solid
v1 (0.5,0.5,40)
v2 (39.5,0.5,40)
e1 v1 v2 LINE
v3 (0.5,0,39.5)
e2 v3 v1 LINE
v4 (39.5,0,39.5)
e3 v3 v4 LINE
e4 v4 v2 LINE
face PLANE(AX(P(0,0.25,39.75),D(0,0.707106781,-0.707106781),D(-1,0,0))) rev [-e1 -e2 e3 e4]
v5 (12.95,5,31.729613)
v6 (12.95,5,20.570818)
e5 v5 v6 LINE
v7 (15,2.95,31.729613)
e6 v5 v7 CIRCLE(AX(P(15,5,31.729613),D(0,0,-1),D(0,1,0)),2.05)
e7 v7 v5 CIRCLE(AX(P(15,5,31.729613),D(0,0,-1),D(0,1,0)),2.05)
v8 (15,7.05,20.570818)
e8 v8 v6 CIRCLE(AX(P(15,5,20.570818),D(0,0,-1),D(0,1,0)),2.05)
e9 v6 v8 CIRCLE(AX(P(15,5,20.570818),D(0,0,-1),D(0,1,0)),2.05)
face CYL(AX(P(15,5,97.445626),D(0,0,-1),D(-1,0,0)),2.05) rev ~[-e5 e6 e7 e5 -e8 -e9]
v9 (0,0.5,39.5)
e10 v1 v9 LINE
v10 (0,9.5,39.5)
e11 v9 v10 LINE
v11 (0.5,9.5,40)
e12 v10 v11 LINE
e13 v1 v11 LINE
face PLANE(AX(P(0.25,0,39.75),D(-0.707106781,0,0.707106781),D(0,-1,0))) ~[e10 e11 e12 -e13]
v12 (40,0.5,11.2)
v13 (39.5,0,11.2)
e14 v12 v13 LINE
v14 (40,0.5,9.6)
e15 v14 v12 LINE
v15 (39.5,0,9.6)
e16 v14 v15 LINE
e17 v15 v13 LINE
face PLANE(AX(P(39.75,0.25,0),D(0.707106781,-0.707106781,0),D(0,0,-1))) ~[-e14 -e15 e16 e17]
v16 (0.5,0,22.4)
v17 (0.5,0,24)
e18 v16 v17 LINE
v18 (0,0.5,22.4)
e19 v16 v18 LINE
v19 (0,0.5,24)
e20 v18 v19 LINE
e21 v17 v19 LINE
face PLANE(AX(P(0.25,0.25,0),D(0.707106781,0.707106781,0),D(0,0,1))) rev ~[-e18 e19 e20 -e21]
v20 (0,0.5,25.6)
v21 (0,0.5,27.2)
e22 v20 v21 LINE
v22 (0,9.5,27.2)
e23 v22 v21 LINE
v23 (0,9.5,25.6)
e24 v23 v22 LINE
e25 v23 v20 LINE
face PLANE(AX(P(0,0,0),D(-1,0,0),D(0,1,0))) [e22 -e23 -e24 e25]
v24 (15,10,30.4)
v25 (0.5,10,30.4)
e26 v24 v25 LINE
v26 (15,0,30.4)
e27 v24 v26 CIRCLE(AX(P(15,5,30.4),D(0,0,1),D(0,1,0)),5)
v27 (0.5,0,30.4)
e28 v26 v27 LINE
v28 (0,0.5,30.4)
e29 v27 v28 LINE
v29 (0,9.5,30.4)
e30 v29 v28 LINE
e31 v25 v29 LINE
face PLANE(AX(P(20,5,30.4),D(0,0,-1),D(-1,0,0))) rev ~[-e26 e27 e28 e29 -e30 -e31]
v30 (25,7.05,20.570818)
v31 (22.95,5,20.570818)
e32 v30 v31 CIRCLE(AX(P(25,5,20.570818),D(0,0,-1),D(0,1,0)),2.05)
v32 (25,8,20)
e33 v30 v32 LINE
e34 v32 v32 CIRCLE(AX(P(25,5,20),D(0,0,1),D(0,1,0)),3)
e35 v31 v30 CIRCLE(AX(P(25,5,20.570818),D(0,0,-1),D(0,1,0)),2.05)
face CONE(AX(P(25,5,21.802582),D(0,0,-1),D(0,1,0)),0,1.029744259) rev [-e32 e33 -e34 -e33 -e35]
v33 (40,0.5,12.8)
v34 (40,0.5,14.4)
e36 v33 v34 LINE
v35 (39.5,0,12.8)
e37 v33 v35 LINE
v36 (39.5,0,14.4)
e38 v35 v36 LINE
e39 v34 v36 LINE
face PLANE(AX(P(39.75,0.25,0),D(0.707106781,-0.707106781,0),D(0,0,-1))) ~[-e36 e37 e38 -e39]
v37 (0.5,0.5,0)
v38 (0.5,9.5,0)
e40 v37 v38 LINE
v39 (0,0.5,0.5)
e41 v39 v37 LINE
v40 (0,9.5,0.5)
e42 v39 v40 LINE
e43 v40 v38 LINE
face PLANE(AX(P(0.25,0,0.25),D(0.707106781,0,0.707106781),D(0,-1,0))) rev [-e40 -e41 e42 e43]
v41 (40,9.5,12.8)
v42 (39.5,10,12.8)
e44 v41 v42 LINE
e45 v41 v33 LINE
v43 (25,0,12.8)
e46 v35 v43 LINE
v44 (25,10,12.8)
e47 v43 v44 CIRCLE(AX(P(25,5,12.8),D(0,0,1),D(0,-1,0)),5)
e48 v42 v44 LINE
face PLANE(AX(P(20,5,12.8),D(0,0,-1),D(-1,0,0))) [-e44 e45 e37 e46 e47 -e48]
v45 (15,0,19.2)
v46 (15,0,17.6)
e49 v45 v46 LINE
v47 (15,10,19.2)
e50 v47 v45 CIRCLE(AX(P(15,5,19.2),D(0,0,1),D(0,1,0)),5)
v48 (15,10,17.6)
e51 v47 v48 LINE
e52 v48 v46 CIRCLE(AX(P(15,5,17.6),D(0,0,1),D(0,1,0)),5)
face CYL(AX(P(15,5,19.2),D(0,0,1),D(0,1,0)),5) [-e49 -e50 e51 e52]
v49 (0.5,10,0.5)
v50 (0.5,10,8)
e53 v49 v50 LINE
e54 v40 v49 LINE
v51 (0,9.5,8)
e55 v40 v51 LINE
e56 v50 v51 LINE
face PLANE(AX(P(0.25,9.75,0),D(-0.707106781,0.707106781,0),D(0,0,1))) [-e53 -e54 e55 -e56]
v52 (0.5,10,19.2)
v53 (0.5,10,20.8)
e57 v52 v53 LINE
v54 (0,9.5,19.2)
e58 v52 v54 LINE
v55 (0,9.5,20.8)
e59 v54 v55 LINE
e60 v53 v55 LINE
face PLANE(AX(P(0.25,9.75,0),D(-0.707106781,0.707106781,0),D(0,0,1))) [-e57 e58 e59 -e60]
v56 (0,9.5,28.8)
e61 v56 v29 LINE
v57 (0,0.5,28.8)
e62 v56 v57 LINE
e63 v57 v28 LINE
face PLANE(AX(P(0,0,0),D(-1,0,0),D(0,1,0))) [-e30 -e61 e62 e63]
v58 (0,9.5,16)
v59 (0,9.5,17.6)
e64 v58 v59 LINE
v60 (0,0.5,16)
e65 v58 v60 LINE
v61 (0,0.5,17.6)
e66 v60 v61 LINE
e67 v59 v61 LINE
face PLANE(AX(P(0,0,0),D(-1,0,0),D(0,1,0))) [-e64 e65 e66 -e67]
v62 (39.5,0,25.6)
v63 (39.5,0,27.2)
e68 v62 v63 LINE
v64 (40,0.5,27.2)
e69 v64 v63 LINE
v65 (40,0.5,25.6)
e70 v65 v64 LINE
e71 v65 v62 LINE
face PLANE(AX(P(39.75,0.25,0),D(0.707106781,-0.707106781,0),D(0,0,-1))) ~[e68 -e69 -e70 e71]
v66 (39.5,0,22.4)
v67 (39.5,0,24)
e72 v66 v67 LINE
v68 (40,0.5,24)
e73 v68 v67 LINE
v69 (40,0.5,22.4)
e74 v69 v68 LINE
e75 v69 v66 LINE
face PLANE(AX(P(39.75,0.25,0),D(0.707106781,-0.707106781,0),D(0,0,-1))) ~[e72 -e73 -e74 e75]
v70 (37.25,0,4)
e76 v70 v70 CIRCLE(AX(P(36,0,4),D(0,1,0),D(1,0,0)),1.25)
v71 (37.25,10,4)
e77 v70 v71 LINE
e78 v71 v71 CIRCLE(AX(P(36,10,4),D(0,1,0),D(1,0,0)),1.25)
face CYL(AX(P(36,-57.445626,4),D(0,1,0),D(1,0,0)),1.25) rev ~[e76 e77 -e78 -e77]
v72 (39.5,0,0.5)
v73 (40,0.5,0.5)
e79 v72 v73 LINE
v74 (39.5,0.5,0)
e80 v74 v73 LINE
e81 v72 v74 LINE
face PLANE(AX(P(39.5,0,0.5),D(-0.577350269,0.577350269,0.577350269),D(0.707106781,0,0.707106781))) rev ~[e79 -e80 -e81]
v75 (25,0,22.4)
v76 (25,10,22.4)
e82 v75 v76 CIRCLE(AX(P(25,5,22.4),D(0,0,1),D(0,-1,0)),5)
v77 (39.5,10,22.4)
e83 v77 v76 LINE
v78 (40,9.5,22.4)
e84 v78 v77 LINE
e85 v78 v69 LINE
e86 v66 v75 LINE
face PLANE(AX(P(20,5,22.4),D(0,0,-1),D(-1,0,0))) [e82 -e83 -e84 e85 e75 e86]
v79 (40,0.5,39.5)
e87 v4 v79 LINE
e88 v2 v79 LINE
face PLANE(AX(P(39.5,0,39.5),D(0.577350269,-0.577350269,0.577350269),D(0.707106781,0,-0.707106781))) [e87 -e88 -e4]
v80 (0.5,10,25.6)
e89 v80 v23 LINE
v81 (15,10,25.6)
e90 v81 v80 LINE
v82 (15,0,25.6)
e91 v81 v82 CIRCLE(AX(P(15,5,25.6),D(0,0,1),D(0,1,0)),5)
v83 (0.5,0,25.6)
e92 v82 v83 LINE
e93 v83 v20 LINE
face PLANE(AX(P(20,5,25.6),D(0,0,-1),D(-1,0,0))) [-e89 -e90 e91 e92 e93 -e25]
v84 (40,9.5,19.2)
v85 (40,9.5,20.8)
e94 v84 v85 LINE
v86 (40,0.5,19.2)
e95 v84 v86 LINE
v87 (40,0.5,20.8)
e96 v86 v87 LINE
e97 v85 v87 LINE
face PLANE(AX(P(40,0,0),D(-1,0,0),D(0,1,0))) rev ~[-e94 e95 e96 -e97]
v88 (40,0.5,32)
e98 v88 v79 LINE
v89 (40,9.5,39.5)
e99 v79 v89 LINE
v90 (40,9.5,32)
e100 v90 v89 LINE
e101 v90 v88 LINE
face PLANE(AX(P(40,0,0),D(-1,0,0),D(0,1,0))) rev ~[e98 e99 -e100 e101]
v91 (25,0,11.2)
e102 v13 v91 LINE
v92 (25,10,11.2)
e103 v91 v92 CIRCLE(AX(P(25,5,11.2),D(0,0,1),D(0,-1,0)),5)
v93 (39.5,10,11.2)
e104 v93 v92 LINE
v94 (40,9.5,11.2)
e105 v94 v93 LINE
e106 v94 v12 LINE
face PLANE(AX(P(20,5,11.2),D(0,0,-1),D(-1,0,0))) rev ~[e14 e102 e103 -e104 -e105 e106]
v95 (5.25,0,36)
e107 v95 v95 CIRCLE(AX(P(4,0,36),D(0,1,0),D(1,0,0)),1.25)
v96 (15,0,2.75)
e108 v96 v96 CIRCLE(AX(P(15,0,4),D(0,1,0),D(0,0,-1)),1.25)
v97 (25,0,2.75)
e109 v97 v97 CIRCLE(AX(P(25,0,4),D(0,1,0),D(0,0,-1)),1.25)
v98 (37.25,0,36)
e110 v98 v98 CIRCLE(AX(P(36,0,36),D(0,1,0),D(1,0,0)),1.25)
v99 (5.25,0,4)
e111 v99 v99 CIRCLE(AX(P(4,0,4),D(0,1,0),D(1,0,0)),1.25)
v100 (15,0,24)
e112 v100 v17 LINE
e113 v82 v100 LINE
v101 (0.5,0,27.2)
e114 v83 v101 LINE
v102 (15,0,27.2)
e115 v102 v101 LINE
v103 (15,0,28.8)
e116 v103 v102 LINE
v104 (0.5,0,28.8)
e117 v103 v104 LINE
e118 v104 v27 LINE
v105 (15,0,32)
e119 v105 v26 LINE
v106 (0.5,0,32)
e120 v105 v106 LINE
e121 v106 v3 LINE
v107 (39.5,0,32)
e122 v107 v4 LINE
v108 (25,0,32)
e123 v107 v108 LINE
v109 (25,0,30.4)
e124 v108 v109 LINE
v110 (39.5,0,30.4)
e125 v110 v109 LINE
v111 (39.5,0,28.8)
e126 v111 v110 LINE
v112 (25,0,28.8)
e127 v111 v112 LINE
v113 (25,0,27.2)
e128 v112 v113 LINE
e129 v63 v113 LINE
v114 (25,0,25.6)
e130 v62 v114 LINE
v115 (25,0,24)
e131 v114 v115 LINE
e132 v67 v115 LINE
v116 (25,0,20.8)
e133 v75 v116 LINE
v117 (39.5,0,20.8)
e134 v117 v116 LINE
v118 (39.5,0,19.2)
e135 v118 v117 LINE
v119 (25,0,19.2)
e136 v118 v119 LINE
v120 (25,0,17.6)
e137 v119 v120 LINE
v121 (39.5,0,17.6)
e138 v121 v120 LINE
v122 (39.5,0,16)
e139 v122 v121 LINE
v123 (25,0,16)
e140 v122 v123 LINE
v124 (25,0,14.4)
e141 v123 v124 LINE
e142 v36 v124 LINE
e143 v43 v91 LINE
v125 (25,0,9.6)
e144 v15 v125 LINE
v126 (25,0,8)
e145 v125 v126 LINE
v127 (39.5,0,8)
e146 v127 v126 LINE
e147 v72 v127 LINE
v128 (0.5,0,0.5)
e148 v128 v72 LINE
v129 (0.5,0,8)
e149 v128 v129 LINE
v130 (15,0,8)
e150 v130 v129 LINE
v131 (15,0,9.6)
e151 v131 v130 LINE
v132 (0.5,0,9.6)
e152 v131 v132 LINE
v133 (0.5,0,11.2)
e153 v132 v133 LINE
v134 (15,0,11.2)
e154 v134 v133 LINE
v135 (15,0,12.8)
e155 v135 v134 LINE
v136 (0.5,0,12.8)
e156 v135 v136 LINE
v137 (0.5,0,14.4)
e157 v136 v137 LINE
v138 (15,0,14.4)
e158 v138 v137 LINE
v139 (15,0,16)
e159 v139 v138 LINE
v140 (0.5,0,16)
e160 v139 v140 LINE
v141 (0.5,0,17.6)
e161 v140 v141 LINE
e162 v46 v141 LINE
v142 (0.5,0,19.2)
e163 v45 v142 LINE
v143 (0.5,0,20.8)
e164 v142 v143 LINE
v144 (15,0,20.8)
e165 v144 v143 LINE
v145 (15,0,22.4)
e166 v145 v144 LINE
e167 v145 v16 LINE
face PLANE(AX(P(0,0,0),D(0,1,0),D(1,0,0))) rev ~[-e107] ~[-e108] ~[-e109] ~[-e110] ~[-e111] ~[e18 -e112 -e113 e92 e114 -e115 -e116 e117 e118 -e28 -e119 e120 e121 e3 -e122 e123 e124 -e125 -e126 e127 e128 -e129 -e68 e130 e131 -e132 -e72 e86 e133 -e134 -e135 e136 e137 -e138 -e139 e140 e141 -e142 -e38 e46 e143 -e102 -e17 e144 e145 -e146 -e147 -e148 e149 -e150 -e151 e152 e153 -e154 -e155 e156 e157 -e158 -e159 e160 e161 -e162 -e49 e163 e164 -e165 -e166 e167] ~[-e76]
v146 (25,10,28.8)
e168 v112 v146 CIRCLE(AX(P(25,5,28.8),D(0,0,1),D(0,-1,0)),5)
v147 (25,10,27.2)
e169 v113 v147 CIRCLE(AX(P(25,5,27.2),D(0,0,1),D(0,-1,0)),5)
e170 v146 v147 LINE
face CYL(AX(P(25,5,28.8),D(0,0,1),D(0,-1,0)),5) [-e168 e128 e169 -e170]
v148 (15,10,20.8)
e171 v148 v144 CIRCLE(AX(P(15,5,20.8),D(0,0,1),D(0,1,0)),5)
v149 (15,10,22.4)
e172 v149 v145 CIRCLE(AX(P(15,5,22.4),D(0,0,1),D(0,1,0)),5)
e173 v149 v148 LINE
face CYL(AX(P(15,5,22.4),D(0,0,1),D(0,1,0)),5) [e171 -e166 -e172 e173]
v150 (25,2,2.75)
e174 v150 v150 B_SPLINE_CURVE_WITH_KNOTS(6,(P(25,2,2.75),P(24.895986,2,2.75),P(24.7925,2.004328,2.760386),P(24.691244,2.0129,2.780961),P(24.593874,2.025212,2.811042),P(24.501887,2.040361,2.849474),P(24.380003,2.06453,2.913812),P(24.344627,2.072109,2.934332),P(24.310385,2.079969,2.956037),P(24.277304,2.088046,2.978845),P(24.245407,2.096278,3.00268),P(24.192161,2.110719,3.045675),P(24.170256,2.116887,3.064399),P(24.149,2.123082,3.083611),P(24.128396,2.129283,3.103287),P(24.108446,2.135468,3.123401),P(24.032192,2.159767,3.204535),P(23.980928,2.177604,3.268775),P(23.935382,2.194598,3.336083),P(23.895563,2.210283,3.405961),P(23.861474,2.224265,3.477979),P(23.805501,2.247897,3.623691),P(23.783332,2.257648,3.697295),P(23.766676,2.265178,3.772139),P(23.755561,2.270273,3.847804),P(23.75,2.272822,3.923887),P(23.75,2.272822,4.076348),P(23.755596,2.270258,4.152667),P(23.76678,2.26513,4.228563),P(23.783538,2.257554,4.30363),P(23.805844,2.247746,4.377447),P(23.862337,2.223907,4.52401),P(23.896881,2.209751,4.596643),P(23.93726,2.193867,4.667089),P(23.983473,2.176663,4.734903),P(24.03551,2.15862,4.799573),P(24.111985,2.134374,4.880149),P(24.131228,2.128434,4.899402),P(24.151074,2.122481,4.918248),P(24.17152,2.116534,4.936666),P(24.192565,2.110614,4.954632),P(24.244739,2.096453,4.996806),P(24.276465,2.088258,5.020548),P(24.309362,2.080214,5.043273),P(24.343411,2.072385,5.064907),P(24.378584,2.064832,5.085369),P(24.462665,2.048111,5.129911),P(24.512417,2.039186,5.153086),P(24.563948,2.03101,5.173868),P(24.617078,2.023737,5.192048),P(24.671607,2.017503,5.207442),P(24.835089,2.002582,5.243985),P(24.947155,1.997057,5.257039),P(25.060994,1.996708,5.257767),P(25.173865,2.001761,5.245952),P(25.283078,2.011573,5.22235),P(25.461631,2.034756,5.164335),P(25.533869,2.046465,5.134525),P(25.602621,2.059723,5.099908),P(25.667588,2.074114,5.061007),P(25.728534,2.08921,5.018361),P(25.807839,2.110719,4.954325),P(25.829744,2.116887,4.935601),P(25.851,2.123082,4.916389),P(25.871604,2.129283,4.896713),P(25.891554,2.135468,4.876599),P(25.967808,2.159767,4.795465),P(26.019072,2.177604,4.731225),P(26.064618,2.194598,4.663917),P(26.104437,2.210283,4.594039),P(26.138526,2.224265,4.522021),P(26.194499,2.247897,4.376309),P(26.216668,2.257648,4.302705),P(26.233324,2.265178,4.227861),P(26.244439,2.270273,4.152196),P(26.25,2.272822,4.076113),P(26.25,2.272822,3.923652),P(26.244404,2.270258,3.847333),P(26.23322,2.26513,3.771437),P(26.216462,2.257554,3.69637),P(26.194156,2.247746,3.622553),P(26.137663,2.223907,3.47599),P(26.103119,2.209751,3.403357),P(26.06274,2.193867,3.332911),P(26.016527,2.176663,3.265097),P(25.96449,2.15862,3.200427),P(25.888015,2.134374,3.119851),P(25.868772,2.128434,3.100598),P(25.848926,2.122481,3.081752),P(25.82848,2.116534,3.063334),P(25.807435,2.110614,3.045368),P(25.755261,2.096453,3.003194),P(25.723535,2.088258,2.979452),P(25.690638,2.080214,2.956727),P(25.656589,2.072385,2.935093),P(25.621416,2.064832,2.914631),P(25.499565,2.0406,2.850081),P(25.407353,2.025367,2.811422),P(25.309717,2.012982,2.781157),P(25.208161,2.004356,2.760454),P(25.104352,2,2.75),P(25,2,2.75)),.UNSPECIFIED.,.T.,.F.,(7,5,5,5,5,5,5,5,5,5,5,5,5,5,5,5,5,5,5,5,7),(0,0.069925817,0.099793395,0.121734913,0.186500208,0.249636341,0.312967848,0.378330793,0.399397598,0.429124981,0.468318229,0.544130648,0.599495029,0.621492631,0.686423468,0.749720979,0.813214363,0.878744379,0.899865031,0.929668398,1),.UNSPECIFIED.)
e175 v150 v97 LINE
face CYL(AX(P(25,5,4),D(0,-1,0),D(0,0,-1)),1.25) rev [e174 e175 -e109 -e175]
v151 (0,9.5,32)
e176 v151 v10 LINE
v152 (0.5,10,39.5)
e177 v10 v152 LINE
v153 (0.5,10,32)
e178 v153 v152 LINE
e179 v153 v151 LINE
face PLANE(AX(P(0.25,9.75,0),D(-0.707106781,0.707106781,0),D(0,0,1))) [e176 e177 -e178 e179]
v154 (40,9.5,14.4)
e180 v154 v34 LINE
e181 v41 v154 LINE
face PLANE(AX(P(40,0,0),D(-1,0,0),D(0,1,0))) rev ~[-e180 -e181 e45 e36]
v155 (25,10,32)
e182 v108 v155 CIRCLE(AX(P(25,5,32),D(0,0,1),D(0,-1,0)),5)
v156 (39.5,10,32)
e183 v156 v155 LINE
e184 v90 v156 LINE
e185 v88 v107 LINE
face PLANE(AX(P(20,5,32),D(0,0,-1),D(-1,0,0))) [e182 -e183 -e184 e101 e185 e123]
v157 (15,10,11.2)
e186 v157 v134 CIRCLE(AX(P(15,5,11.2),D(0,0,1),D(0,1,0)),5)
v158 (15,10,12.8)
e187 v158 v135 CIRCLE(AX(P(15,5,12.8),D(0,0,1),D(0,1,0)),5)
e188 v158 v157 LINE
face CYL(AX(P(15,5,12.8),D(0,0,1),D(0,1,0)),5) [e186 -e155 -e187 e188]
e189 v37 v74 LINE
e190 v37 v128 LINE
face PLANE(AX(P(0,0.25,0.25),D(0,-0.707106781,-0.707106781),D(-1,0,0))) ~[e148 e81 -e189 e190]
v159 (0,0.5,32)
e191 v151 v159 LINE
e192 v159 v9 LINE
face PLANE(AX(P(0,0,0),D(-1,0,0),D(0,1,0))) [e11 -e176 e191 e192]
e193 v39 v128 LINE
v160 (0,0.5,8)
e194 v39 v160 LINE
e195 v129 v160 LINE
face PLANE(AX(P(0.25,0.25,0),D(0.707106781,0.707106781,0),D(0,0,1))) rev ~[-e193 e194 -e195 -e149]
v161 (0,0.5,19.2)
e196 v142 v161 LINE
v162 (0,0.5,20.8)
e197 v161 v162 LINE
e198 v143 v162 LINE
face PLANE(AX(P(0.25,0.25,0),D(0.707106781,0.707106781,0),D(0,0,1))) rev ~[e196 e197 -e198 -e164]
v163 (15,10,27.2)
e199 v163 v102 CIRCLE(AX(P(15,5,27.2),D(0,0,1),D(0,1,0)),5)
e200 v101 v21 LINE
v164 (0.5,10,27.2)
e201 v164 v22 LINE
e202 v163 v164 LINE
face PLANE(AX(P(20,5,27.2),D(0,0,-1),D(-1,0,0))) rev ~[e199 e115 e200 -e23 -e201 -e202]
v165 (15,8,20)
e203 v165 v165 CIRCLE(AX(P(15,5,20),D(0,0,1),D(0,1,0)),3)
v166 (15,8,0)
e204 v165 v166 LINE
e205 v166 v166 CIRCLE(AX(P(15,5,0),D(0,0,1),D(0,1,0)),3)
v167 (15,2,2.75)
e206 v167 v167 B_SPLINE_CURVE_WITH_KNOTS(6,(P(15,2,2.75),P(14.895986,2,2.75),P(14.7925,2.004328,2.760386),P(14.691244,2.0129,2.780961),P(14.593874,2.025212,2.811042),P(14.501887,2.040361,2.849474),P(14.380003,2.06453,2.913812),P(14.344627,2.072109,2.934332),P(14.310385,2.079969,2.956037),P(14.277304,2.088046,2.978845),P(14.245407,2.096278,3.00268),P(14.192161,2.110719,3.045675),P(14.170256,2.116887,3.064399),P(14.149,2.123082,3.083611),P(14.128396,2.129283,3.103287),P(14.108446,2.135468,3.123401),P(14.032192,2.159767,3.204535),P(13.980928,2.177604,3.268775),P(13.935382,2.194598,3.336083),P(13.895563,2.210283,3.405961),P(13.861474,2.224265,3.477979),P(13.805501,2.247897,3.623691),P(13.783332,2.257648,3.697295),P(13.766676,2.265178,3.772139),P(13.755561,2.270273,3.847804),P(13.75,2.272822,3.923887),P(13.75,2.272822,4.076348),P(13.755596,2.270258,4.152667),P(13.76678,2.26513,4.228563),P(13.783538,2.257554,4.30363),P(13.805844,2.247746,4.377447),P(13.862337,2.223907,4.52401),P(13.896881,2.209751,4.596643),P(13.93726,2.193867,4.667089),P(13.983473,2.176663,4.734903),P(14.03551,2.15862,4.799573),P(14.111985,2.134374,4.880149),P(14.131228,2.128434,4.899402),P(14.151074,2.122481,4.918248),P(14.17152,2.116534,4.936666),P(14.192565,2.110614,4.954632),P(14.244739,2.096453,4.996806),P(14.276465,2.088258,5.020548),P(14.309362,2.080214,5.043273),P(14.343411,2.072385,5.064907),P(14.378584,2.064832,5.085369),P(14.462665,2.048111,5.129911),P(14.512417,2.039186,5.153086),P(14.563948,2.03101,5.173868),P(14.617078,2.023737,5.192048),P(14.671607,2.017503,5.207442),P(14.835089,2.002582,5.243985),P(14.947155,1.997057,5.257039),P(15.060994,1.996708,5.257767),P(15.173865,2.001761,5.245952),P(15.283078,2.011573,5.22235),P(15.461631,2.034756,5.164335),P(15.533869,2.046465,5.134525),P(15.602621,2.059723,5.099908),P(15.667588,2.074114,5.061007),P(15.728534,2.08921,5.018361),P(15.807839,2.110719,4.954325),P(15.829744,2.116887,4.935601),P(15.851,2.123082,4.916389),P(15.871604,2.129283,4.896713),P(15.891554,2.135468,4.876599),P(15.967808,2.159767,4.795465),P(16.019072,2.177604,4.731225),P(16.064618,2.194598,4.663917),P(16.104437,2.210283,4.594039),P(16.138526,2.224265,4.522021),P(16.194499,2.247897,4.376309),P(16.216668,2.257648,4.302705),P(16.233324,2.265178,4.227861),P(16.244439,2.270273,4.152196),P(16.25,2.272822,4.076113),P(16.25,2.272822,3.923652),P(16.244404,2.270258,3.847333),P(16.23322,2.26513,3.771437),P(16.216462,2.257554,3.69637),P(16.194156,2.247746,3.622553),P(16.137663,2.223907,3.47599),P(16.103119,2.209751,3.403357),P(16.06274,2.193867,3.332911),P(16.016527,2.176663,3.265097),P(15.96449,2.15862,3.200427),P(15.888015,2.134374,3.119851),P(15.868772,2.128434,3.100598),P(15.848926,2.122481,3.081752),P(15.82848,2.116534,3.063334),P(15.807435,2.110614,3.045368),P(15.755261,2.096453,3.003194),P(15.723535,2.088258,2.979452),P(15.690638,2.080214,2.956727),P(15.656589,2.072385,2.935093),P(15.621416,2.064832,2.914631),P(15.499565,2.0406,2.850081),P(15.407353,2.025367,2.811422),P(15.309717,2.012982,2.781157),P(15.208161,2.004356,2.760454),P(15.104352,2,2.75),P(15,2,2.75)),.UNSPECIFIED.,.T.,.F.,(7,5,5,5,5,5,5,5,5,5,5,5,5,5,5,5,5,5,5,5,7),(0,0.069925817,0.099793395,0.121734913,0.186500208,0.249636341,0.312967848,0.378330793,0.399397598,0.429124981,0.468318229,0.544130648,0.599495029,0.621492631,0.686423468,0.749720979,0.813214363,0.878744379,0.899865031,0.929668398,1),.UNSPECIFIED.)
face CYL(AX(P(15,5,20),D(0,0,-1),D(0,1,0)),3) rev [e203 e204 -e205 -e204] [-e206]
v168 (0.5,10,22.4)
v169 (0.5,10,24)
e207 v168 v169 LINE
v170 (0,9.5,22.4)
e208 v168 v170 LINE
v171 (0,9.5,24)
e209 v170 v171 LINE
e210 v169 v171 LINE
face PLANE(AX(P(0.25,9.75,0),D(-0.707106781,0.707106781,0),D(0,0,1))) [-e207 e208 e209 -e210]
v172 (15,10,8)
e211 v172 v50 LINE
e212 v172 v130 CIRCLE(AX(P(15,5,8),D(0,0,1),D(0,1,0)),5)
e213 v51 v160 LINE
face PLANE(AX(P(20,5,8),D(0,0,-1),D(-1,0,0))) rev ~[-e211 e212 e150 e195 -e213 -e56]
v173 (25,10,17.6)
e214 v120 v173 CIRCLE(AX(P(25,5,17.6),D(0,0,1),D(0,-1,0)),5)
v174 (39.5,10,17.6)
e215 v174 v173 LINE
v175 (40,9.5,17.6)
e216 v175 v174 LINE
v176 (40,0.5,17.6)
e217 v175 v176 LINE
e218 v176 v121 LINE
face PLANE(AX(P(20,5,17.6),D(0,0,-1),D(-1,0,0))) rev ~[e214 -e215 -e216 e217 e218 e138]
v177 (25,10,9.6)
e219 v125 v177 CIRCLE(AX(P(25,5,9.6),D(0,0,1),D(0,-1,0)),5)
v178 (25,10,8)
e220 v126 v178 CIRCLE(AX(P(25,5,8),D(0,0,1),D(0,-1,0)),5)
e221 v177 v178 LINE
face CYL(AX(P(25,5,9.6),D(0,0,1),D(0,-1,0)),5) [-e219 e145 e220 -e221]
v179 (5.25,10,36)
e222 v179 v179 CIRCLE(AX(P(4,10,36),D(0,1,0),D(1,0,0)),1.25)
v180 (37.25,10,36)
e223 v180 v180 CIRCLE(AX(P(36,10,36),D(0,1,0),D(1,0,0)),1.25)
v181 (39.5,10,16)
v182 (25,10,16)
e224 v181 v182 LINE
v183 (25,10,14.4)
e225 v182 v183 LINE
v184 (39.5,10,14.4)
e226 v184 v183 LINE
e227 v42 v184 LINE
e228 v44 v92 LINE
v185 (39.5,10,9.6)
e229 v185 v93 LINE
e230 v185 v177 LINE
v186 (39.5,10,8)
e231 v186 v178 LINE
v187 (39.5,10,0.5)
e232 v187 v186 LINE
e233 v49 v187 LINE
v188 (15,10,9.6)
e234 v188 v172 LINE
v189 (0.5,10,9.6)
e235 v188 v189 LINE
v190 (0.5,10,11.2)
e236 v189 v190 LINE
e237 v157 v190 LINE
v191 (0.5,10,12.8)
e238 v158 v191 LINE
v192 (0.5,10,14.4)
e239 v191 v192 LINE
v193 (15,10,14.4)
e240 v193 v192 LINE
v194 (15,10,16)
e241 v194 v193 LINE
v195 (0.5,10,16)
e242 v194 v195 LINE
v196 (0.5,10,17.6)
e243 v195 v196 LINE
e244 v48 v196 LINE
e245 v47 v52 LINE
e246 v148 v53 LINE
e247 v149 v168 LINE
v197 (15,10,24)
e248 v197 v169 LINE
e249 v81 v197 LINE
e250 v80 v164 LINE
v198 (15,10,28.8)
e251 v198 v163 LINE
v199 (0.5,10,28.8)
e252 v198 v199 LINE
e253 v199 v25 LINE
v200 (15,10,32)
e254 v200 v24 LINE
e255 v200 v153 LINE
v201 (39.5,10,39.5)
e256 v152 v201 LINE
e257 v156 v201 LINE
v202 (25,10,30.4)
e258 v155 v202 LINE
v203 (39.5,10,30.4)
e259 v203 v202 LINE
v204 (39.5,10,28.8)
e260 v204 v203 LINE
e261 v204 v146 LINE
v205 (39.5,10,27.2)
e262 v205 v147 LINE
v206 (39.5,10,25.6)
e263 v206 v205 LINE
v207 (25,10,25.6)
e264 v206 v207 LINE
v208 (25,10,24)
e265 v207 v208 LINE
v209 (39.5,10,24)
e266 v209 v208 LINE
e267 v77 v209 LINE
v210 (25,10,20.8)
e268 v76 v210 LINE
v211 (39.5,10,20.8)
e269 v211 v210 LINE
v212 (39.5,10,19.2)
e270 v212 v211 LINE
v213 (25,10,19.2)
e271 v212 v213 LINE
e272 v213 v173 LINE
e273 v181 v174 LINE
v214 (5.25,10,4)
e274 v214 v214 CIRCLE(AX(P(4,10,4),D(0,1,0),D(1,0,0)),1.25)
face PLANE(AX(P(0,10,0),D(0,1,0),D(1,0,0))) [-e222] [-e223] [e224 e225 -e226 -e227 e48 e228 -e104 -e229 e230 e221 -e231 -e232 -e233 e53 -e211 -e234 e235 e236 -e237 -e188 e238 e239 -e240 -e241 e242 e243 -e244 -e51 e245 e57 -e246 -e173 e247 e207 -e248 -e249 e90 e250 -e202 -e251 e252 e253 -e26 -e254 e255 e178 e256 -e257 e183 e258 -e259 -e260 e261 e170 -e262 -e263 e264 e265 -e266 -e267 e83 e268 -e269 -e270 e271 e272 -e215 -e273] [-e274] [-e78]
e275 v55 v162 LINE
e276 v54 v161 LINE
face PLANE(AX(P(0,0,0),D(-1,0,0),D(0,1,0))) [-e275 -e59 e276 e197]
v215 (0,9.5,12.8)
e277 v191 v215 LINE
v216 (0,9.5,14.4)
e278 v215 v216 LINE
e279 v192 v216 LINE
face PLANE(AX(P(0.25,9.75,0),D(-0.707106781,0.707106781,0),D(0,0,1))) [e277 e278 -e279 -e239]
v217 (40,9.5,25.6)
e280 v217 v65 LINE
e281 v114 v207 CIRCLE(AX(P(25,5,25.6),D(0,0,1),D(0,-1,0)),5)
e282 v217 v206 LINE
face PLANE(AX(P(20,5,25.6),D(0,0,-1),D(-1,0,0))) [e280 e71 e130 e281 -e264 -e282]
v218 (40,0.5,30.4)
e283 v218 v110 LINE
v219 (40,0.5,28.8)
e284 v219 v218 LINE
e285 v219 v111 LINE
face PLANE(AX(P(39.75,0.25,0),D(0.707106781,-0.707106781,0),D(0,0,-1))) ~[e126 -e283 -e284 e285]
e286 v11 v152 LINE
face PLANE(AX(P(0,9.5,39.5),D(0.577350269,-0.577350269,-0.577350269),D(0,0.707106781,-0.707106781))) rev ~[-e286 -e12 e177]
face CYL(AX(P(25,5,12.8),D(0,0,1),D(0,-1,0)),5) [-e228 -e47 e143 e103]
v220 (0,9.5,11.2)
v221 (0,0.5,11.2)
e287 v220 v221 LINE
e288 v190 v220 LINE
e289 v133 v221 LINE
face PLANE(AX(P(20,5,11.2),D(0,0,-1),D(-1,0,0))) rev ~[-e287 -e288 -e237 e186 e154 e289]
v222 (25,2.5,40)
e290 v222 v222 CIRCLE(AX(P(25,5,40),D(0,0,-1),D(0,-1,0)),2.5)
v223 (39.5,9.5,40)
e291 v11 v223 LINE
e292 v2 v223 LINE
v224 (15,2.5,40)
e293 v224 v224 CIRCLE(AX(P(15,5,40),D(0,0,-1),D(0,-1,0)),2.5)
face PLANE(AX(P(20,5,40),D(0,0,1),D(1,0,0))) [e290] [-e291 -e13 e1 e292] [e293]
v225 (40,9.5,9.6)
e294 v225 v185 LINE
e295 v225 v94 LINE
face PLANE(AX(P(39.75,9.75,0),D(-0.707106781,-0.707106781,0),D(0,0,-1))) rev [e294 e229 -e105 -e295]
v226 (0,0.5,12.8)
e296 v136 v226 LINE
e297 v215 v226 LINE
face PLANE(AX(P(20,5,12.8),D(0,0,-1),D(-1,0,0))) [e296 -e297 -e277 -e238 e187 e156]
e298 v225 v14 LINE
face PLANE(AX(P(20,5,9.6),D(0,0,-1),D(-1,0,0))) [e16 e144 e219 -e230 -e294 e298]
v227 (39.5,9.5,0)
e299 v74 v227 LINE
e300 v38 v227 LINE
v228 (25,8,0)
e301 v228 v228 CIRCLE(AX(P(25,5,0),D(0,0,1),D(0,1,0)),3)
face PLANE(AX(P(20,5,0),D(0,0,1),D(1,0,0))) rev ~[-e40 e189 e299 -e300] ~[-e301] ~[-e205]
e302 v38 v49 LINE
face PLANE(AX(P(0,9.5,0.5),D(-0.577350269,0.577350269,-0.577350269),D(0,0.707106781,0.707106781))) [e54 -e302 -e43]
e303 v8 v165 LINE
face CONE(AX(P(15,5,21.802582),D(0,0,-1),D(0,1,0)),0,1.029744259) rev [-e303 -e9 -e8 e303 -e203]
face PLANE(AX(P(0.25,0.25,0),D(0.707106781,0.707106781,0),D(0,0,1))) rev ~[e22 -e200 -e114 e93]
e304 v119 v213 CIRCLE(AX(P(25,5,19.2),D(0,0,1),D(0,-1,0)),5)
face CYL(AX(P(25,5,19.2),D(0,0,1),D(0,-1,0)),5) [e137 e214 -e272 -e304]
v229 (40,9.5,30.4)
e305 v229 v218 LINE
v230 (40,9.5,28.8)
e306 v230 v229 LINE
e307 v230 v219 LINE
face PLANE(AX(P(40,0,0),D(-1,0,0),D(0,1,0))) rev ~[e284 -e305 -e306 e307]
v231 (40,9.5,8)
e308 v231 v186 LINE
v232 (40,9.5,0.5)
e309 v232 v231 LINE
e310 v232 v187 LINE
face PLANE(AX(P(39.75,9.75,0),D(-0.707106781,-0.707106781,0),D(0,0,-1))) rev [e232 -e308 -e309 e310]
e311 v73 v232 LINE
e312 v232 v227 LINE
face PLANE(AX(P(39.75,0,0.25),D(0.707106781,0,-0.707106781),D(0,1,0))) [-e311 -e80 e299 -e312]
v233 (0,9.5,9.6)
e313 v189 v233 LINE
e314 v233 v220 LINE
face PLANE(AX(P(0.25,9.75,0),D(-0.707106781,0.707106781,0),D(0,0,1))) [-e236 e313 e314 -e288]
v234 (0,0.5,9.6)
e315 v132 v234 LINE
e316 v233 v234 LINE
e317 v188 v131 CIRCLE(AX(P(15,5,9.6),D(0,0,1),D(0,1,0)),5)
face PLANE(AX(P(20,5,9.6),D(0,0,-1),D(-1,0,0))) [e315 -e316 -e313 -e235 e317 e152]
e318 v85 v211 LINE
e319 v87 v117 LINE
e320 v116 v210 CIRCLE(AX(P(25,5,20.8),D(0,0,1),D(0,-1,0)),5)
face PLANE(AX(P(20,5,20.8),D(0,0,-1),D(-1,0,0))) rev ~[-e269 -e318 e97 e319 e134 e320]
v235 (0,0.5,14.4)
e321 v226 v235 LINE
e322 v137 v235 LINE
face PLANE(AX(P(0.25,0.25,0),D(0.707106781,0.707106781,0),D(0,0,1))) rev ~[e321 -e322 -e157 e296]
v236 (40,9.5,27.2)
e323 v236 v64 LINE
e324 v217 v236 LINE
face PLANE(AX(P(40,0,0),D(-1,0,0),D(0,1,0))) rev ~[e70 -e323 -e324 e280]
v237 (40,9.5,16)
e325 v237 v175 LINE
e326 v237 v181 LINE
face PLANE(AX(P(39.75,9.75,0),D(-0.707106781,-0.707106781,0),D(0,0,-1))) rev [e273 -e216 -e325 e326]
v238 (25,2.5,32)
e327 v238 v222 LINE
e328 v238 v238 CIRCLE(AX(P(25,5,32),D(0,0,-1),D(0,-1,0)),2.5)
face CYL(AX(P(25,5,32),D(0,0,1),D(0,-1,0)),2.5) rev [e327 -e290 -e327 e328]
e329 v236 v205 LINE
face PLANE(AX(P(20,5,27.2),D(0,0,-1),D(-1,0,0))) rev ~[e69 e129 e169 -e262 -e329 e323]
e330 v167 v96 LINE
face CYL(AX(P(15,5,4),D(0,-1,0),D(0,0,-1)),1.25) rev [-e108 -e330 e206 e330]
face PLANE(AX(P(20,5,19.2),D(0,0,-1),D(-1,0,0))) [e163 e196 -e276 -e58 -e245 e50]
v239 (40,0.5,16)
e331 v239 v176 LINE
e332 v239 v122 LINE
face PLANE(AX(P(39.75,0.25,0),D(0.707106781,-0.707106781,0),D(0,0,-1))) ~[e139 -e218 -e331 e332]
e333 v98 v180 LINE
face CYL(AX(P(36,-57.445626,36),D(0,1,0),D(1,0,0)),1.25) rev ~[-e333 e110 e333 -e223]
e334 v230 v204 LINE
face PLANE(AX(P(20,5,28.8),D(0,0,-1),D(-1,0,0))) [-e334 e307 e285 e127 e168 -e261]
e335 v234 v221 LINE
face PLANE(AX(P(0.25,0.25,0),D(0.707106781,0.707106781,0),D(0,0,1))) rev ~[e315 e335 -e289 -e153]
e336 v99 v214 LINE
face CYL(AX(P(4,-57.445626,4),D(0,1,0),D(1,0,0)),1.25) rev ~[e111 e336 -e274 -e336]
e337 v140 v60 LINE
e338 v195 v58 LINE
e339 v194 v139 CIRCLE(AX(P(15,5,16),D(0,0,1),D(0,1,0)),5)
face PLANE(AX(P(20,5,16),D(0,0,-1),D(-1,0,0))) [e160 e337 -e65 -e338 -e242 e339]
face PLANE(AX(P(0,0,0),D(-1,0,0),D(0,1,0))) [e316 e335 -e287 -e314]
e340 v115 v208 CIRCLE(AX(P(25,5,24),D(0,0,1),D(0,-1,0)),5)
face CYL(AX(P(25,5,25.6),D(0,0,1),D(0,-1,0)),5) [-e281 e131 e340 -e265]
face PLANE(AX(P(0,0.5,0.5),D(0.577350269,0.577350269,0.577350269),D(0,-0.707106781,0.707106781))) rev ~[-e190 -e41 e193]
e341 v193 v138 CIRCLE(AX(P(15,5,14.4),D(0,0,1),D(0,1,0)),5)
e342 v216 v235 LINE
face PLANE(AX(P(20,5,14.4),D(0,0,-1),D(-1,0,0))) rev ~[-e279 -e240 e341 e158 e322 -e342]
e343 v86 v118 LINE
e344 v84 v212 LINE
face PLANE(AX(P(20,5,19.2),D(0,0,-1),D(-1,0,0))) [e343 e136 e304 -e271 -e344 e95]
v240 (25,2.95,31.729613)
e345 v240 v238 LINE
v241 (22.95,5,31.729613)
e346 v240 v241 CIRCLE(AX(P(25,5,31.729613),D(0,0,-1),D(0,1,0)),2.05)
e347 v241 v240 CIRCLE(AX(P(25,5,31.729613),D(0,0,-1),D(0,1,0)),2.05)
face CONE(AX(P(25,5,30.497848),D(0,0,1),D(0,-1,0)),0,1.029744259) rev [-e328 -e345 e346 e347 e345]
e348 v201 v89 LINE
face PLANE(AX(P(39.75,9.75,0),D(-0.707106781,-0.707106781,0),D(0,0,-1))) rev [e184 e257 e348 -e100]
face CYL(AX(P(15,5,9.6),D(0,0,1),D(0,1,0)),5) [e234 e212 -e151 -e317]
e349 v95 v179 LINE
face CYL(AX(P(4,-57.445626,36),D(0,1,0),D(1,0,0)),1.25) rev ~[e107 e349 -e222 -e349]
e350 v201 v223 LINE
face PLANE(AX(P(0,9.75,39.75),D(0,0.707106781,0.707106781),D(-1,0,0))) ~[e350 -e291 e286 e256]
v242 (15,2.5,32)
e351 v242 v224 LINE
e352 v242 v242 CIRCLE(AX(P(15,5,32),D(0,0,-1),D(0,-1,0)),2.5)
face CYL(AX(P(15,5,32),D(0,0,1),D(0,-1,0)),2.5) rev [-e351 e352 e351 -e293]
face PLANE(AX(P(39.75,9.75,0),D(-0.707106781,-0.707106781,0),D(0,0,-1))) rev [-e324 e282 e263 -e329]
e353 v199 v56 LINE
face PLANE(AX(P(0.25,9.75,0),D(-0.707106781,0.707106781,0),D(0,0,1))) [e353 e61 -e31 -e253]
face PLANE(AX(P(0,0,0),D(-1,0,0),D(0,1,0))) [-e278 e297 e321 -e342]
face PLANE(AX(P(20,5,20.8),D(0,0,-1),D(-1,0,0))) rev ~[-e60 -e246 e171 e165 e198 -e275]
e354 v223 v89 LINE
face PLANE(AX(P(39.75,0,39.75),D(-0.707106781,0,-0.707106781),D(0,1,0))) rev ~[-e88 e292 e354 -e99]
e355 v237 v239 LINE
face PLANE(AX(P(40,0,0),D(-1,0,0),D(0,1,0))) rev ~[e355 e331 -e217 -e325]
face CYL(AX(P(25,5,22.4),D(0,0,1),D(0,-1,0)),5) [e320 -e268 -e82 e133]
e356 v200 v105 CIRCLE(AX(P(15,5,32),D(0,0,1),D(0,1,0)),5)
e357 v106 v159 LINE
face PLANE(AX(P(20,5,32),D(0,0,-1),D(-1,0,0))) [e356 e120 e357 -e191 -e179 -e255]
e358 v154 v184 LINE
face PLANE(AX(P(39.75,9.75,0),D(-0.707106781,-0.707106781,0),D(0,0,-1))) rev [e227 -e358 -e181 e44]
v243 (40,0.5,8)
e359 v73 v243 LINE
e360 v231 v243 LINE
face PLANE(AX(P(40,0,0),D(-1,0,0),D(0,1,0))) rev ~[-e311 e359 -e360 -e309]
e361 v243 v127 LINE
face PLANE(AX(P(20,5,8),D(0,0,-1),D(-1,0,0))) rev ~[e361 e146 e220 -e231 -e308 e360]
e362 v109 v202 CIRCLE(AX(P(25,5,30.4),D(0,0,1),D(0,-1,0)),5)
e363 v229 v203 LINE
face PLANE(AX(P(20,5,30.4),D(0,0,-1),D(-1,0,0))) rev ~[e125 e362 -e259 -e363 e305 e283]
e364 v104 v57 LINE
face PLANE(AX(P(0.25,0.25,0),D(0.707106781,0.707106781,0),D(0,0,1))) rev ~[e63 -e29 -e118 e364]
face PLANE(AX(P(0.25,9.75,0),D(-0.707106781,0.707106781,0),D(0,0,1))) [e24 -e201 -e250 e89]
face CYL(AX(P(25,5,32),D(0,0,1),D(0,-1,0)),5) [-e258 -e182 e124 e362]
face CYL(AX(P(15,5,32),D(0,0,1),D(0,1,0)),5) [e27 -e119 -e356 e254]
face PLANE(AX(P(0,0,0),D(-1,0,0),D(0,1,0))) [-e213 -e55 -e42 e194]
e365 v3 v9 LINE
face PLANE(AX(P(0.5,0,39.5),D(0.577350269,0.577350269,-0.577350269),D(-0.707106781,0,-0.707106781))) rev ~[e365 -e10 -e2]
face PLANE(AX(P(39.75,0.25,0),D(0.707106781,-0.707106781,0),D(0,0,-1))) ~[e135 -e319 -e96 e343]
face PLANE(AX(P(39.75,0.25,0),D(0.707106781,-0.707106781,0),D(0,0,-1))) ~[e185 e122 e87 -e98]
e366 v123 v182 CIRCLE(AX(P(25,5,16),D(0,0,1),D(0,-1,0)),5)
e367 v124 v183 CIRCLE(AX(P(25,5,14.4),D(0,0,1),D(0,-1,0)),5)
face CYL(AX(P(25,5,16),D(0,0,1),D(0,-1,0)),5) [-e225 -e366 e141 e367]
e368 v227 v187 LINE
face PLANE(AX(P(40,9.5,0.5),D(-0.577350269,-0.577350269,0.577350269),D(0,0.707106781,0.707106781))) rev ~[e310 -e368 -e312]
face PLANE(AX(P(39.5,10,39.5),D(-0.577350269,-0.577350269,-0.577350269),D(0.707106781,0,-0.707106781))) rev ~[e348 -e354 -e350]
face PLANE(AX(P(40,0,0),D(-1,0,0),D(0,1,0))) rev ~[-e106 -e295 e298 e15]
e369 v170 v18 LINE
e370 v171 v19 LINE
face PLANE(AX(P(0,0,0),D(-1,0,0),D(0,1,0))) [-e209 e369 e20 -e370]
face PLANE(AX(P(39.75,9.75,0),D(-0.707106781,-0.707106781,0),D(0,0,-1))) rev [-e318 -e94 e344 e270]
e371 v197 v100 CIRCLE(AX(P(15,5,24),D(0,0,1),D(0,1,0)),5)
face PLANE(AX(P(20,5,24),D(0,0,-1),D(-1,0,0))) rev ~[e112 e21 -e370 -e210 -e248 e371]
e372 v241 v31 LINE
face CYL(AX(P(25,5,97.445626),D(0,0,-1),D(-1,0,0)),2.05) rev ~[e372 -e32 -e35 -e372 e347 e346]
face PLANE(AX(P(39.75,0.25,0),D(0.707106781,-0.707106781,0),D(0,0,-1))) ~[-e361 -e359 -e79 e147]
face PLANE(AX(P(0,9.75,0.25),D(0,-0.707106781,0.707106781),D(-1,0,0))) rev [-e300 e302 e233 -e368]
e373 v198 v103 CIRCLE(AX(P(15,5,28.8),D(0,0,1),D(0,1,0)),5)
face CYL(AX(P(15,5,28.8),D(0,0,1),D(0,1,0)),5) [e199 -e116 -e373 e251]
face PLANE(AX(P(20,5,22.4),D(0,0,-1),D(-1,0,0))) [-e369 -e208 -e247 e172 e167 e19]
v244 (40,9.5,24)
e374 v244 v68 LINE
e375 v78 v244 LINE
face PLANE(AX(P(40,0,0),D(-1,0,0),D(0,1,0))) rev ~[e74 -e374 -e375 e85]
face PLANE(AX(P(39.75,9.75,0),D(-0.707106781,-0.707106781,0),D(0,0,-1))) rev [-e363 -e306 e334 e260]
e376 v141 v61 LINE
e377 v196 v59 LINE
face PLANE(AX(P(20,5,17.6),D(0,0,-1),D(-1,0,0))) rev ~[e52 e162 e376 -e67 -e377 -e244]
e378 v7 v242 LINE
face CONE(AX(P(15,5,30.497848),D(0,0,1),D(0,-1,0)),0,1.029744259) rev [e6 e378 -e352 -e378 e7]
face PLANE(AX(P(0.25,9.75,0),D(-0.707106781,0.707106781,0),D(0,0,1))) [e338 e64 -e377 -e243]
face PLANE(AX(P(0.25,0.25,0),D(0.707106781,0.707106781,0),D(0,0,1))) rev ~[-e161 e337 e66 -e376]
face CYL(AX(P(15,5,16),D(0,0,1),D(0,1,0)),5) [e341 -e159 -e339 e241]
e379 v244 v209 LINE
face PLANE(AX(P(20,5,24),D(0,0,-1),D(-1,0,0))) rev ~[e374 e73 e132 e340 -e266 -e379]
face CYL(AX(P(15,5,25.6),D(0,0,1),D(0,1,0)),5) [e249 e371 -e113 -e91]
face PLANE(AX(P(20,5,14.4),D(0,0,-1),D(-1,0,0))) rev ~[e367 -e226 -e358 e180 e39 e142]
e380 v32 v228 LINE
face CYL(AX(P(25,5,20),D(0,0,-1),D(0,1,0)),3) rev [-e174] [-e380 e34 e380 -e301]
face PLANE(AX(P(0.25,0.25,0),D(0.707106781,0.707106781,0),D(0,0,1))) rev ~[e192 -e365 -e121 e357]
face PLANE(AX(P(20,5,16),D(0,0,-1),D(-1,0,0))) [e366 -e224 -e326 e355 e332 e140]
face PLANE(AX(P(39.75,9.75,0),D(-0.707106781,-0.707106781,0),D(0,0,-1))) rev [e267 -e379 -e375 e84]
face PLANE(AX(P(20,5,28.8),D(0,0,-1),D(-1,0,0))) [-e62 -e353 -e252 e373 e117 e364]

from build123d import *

# Parameters (mm, degrees)
ESQUISSE2_W                               = 40
ESQUISSE2_H                               = 10
BOSS_EXTRU_1_DEPTH                        = 40
DIAM_TRE_DU_PER_AGE_4_1_4_1_1_D           = 4.1
TROU_POUR_TARAUDAGE_POUR_TROU_TARAUD_M3_D = 2.5
CHANFREIN1_SIZE                           = 0.5
R_P_TITION_LIN_AIRE2_COUNT                = 2
R_P_TITION_LIN_AIRE2_PITCH                = 10
ENL_V_START                               = 8
ESQUISSE20_R                              = 30.056093749
ENL_V_MAT_EXTRU_1_DEPTH                   = 1.6
R_P_TITION_LIN_AIRE1_COUNT                = 8
R_P_TITION_LIN_AIRE1_PITCH                = 3.2


with BuildPart() as part:
    # Esquisse2 → Boss.-Extru.1 (new body)
    with BuildSketch(Plane.XY):
        with Locations((20, 5)):
            Rectangle(ESQUISSE2_W, ESQUISSE2_H)
    extrude(amount=BOSS_EXTRU_1_DEPTH)

    # Diamètre du perçage Ø4.1 (4.1)1 (through all)
    with Locations(Plane.XY.offset(40)):
        with Locations((25, 5)):
            diam_tre_du_per_age_4_1_4_1_1 = Hole(DIAM_TRE_DU_PER_AGE_4_1_4_1_1_D / 2)

    # Esquisse9 → Trou pour taraudage pour trou taraudé M61 (revolve, cut)
    with BuildSketch(Plane(origin=(25, 5, 40), x_dir=(0, -1, 0), z_dir=(1, 0, 0))):
        Polygon((0, 0), (0, 9.502151548), (2.5, 8), (2.5, 0), align=None)
    trou_pour_taraudage_pour_trou_taraud_m6 = revolve(axis=Axis((25, 5, 46.35), (0, 0, -1)), mode=Mode.SUBTRACT)

    # Esquisse13 → Diamètre du perçage Ø6.0 (6)1 (revolve, cut)
    with BuildSketch(Plane(origin=(25, 5, 0), x_dir=(0, 1, 0), z_dir=(1, 0, 0))):
        Polygon((0, 0), (0, 21.802581857), (3, 20), (3, 0), align=None)
    diam_tre_du_per_age_6_0_6_1 = revolve(axis=Axis((25, 5, -6.35), (0, 0, 1)), mode=Mode.SUBTRACT)

    # Trou pour taraudage pour trou taraud_ M3 (through all)
    with Locations(Plane(origin=(0, 0, 0), x_dir=(-1, 0, 0), z_dir=(0, -1, 0))):
        with Locations((-4, -36), (-36, -36), (-36, -4), (-4, -4)):
            Hole(TROU_POUR_TARAUDAGE_POUR_TROU_TARAUD_M3_D / 2)

    # Esquisse18 → Trou pour taraudage pour trou taraud 2 (revolve, cut)
    with BuildSketch(Plane(origin=(25, 0, 4), x_dir=(0, 0, -1), z_dir=(1, 0, 0))):
        Polygon((0, 0), (0, 5.751075774), (1.25, 5), (1.25, 0), align=None)
    trou_pour_taraudage_pour_trou_taraud_2 = revolve(axis=Axis((25, -6.35, 4), (0, 1, 0)), mode=Mode.SUBTRACT)

    # Chanfrein1
    chanfrein1_edges = [part.edges().sort_by_distance(p)[0] for p in [
        (40, 5, 40),
        (20, 10, 40),
        (0, 5, 40),
        (20, 10, 0),
        (40, 5, 0),
        (20, 0, 0),
        (0, 5, 0),
        (20, 0, 40),
        (0, 10, 20),
        (40, 10, 20),
        (40, 0, 20),
        (0, 0, 20),
    ]]
    chamfer(chanfrein1_edges, length=CHANFREIN1_SIZE)

    # Répétition linéaire2: Diamètre du perçage Ø4.1 (4.1)1, Trou pour taraudage pour trou taraudé M61, Diamètre du perçage Ø6.0 (6)1, Trou pour taraudage pour trou taraud 2 ×2
    with Locations(*[(-i * R_P_TITION_LIN_AIRE2_PITCH, 0, 0) for i in range(1, R_P_TITION_LIN_AIRE2_COUNT)]):
        add(diam_tre_du_per_age_4_1_4_1_1, mode=Mode.SUBTRACT)
        add(trou_pour_taraudage_pour_trou_taraud_m6, mode=Mode.SUBTRACT)
        add(diam_tre_du_per_age_6_0_6_1, mode=Mode.SUBTRACT)
        add(trou_pour_taraudage_pour_trou_taraud_2, mode=Mode.SUBTRACT)

    # Esquisse20 → Enlèv. mat.-Extru.1 (cut)
    with BuildSketch(Plane(origin=(0, 40, 40), x_dir=(-1, 0, 0), z_dir=(0, 0, -1)).offset(ENL_V_START)):
        with Locations((-20, -35)):
            Circle(ESQUISSE20_R)
        with BuildLine():
            Line((-15, -40), (-25, -40))
            ThreePointArc((-25, -40), (-30, -35), (-25, -30))
            Line((-25, -30), (-15, -30))
            ThreePointArc((-15, -30), (-10, -35), (-15, -40))
        make_face(mode=Mode.SUBTRACT)
    enl_v_mat_extru_1 = extrude(amount=ENL_V_MAT_EXTRU_1_DEPTH, mode=Mode.SUBTRACT)

    # Répétition linéaire1: Enlèv. mat.-Extru.1 ×8
    with Locations(*[(0, 0, -i * R_P_TITION_LIN_AIRE1_PITCH) for i in range(1, R_P_TITION_LIN_AIRE1_COUNT)]):
        add(enl_v_mat_extru_1, mode=Mode.SUBTRACT)


solid = part.part
